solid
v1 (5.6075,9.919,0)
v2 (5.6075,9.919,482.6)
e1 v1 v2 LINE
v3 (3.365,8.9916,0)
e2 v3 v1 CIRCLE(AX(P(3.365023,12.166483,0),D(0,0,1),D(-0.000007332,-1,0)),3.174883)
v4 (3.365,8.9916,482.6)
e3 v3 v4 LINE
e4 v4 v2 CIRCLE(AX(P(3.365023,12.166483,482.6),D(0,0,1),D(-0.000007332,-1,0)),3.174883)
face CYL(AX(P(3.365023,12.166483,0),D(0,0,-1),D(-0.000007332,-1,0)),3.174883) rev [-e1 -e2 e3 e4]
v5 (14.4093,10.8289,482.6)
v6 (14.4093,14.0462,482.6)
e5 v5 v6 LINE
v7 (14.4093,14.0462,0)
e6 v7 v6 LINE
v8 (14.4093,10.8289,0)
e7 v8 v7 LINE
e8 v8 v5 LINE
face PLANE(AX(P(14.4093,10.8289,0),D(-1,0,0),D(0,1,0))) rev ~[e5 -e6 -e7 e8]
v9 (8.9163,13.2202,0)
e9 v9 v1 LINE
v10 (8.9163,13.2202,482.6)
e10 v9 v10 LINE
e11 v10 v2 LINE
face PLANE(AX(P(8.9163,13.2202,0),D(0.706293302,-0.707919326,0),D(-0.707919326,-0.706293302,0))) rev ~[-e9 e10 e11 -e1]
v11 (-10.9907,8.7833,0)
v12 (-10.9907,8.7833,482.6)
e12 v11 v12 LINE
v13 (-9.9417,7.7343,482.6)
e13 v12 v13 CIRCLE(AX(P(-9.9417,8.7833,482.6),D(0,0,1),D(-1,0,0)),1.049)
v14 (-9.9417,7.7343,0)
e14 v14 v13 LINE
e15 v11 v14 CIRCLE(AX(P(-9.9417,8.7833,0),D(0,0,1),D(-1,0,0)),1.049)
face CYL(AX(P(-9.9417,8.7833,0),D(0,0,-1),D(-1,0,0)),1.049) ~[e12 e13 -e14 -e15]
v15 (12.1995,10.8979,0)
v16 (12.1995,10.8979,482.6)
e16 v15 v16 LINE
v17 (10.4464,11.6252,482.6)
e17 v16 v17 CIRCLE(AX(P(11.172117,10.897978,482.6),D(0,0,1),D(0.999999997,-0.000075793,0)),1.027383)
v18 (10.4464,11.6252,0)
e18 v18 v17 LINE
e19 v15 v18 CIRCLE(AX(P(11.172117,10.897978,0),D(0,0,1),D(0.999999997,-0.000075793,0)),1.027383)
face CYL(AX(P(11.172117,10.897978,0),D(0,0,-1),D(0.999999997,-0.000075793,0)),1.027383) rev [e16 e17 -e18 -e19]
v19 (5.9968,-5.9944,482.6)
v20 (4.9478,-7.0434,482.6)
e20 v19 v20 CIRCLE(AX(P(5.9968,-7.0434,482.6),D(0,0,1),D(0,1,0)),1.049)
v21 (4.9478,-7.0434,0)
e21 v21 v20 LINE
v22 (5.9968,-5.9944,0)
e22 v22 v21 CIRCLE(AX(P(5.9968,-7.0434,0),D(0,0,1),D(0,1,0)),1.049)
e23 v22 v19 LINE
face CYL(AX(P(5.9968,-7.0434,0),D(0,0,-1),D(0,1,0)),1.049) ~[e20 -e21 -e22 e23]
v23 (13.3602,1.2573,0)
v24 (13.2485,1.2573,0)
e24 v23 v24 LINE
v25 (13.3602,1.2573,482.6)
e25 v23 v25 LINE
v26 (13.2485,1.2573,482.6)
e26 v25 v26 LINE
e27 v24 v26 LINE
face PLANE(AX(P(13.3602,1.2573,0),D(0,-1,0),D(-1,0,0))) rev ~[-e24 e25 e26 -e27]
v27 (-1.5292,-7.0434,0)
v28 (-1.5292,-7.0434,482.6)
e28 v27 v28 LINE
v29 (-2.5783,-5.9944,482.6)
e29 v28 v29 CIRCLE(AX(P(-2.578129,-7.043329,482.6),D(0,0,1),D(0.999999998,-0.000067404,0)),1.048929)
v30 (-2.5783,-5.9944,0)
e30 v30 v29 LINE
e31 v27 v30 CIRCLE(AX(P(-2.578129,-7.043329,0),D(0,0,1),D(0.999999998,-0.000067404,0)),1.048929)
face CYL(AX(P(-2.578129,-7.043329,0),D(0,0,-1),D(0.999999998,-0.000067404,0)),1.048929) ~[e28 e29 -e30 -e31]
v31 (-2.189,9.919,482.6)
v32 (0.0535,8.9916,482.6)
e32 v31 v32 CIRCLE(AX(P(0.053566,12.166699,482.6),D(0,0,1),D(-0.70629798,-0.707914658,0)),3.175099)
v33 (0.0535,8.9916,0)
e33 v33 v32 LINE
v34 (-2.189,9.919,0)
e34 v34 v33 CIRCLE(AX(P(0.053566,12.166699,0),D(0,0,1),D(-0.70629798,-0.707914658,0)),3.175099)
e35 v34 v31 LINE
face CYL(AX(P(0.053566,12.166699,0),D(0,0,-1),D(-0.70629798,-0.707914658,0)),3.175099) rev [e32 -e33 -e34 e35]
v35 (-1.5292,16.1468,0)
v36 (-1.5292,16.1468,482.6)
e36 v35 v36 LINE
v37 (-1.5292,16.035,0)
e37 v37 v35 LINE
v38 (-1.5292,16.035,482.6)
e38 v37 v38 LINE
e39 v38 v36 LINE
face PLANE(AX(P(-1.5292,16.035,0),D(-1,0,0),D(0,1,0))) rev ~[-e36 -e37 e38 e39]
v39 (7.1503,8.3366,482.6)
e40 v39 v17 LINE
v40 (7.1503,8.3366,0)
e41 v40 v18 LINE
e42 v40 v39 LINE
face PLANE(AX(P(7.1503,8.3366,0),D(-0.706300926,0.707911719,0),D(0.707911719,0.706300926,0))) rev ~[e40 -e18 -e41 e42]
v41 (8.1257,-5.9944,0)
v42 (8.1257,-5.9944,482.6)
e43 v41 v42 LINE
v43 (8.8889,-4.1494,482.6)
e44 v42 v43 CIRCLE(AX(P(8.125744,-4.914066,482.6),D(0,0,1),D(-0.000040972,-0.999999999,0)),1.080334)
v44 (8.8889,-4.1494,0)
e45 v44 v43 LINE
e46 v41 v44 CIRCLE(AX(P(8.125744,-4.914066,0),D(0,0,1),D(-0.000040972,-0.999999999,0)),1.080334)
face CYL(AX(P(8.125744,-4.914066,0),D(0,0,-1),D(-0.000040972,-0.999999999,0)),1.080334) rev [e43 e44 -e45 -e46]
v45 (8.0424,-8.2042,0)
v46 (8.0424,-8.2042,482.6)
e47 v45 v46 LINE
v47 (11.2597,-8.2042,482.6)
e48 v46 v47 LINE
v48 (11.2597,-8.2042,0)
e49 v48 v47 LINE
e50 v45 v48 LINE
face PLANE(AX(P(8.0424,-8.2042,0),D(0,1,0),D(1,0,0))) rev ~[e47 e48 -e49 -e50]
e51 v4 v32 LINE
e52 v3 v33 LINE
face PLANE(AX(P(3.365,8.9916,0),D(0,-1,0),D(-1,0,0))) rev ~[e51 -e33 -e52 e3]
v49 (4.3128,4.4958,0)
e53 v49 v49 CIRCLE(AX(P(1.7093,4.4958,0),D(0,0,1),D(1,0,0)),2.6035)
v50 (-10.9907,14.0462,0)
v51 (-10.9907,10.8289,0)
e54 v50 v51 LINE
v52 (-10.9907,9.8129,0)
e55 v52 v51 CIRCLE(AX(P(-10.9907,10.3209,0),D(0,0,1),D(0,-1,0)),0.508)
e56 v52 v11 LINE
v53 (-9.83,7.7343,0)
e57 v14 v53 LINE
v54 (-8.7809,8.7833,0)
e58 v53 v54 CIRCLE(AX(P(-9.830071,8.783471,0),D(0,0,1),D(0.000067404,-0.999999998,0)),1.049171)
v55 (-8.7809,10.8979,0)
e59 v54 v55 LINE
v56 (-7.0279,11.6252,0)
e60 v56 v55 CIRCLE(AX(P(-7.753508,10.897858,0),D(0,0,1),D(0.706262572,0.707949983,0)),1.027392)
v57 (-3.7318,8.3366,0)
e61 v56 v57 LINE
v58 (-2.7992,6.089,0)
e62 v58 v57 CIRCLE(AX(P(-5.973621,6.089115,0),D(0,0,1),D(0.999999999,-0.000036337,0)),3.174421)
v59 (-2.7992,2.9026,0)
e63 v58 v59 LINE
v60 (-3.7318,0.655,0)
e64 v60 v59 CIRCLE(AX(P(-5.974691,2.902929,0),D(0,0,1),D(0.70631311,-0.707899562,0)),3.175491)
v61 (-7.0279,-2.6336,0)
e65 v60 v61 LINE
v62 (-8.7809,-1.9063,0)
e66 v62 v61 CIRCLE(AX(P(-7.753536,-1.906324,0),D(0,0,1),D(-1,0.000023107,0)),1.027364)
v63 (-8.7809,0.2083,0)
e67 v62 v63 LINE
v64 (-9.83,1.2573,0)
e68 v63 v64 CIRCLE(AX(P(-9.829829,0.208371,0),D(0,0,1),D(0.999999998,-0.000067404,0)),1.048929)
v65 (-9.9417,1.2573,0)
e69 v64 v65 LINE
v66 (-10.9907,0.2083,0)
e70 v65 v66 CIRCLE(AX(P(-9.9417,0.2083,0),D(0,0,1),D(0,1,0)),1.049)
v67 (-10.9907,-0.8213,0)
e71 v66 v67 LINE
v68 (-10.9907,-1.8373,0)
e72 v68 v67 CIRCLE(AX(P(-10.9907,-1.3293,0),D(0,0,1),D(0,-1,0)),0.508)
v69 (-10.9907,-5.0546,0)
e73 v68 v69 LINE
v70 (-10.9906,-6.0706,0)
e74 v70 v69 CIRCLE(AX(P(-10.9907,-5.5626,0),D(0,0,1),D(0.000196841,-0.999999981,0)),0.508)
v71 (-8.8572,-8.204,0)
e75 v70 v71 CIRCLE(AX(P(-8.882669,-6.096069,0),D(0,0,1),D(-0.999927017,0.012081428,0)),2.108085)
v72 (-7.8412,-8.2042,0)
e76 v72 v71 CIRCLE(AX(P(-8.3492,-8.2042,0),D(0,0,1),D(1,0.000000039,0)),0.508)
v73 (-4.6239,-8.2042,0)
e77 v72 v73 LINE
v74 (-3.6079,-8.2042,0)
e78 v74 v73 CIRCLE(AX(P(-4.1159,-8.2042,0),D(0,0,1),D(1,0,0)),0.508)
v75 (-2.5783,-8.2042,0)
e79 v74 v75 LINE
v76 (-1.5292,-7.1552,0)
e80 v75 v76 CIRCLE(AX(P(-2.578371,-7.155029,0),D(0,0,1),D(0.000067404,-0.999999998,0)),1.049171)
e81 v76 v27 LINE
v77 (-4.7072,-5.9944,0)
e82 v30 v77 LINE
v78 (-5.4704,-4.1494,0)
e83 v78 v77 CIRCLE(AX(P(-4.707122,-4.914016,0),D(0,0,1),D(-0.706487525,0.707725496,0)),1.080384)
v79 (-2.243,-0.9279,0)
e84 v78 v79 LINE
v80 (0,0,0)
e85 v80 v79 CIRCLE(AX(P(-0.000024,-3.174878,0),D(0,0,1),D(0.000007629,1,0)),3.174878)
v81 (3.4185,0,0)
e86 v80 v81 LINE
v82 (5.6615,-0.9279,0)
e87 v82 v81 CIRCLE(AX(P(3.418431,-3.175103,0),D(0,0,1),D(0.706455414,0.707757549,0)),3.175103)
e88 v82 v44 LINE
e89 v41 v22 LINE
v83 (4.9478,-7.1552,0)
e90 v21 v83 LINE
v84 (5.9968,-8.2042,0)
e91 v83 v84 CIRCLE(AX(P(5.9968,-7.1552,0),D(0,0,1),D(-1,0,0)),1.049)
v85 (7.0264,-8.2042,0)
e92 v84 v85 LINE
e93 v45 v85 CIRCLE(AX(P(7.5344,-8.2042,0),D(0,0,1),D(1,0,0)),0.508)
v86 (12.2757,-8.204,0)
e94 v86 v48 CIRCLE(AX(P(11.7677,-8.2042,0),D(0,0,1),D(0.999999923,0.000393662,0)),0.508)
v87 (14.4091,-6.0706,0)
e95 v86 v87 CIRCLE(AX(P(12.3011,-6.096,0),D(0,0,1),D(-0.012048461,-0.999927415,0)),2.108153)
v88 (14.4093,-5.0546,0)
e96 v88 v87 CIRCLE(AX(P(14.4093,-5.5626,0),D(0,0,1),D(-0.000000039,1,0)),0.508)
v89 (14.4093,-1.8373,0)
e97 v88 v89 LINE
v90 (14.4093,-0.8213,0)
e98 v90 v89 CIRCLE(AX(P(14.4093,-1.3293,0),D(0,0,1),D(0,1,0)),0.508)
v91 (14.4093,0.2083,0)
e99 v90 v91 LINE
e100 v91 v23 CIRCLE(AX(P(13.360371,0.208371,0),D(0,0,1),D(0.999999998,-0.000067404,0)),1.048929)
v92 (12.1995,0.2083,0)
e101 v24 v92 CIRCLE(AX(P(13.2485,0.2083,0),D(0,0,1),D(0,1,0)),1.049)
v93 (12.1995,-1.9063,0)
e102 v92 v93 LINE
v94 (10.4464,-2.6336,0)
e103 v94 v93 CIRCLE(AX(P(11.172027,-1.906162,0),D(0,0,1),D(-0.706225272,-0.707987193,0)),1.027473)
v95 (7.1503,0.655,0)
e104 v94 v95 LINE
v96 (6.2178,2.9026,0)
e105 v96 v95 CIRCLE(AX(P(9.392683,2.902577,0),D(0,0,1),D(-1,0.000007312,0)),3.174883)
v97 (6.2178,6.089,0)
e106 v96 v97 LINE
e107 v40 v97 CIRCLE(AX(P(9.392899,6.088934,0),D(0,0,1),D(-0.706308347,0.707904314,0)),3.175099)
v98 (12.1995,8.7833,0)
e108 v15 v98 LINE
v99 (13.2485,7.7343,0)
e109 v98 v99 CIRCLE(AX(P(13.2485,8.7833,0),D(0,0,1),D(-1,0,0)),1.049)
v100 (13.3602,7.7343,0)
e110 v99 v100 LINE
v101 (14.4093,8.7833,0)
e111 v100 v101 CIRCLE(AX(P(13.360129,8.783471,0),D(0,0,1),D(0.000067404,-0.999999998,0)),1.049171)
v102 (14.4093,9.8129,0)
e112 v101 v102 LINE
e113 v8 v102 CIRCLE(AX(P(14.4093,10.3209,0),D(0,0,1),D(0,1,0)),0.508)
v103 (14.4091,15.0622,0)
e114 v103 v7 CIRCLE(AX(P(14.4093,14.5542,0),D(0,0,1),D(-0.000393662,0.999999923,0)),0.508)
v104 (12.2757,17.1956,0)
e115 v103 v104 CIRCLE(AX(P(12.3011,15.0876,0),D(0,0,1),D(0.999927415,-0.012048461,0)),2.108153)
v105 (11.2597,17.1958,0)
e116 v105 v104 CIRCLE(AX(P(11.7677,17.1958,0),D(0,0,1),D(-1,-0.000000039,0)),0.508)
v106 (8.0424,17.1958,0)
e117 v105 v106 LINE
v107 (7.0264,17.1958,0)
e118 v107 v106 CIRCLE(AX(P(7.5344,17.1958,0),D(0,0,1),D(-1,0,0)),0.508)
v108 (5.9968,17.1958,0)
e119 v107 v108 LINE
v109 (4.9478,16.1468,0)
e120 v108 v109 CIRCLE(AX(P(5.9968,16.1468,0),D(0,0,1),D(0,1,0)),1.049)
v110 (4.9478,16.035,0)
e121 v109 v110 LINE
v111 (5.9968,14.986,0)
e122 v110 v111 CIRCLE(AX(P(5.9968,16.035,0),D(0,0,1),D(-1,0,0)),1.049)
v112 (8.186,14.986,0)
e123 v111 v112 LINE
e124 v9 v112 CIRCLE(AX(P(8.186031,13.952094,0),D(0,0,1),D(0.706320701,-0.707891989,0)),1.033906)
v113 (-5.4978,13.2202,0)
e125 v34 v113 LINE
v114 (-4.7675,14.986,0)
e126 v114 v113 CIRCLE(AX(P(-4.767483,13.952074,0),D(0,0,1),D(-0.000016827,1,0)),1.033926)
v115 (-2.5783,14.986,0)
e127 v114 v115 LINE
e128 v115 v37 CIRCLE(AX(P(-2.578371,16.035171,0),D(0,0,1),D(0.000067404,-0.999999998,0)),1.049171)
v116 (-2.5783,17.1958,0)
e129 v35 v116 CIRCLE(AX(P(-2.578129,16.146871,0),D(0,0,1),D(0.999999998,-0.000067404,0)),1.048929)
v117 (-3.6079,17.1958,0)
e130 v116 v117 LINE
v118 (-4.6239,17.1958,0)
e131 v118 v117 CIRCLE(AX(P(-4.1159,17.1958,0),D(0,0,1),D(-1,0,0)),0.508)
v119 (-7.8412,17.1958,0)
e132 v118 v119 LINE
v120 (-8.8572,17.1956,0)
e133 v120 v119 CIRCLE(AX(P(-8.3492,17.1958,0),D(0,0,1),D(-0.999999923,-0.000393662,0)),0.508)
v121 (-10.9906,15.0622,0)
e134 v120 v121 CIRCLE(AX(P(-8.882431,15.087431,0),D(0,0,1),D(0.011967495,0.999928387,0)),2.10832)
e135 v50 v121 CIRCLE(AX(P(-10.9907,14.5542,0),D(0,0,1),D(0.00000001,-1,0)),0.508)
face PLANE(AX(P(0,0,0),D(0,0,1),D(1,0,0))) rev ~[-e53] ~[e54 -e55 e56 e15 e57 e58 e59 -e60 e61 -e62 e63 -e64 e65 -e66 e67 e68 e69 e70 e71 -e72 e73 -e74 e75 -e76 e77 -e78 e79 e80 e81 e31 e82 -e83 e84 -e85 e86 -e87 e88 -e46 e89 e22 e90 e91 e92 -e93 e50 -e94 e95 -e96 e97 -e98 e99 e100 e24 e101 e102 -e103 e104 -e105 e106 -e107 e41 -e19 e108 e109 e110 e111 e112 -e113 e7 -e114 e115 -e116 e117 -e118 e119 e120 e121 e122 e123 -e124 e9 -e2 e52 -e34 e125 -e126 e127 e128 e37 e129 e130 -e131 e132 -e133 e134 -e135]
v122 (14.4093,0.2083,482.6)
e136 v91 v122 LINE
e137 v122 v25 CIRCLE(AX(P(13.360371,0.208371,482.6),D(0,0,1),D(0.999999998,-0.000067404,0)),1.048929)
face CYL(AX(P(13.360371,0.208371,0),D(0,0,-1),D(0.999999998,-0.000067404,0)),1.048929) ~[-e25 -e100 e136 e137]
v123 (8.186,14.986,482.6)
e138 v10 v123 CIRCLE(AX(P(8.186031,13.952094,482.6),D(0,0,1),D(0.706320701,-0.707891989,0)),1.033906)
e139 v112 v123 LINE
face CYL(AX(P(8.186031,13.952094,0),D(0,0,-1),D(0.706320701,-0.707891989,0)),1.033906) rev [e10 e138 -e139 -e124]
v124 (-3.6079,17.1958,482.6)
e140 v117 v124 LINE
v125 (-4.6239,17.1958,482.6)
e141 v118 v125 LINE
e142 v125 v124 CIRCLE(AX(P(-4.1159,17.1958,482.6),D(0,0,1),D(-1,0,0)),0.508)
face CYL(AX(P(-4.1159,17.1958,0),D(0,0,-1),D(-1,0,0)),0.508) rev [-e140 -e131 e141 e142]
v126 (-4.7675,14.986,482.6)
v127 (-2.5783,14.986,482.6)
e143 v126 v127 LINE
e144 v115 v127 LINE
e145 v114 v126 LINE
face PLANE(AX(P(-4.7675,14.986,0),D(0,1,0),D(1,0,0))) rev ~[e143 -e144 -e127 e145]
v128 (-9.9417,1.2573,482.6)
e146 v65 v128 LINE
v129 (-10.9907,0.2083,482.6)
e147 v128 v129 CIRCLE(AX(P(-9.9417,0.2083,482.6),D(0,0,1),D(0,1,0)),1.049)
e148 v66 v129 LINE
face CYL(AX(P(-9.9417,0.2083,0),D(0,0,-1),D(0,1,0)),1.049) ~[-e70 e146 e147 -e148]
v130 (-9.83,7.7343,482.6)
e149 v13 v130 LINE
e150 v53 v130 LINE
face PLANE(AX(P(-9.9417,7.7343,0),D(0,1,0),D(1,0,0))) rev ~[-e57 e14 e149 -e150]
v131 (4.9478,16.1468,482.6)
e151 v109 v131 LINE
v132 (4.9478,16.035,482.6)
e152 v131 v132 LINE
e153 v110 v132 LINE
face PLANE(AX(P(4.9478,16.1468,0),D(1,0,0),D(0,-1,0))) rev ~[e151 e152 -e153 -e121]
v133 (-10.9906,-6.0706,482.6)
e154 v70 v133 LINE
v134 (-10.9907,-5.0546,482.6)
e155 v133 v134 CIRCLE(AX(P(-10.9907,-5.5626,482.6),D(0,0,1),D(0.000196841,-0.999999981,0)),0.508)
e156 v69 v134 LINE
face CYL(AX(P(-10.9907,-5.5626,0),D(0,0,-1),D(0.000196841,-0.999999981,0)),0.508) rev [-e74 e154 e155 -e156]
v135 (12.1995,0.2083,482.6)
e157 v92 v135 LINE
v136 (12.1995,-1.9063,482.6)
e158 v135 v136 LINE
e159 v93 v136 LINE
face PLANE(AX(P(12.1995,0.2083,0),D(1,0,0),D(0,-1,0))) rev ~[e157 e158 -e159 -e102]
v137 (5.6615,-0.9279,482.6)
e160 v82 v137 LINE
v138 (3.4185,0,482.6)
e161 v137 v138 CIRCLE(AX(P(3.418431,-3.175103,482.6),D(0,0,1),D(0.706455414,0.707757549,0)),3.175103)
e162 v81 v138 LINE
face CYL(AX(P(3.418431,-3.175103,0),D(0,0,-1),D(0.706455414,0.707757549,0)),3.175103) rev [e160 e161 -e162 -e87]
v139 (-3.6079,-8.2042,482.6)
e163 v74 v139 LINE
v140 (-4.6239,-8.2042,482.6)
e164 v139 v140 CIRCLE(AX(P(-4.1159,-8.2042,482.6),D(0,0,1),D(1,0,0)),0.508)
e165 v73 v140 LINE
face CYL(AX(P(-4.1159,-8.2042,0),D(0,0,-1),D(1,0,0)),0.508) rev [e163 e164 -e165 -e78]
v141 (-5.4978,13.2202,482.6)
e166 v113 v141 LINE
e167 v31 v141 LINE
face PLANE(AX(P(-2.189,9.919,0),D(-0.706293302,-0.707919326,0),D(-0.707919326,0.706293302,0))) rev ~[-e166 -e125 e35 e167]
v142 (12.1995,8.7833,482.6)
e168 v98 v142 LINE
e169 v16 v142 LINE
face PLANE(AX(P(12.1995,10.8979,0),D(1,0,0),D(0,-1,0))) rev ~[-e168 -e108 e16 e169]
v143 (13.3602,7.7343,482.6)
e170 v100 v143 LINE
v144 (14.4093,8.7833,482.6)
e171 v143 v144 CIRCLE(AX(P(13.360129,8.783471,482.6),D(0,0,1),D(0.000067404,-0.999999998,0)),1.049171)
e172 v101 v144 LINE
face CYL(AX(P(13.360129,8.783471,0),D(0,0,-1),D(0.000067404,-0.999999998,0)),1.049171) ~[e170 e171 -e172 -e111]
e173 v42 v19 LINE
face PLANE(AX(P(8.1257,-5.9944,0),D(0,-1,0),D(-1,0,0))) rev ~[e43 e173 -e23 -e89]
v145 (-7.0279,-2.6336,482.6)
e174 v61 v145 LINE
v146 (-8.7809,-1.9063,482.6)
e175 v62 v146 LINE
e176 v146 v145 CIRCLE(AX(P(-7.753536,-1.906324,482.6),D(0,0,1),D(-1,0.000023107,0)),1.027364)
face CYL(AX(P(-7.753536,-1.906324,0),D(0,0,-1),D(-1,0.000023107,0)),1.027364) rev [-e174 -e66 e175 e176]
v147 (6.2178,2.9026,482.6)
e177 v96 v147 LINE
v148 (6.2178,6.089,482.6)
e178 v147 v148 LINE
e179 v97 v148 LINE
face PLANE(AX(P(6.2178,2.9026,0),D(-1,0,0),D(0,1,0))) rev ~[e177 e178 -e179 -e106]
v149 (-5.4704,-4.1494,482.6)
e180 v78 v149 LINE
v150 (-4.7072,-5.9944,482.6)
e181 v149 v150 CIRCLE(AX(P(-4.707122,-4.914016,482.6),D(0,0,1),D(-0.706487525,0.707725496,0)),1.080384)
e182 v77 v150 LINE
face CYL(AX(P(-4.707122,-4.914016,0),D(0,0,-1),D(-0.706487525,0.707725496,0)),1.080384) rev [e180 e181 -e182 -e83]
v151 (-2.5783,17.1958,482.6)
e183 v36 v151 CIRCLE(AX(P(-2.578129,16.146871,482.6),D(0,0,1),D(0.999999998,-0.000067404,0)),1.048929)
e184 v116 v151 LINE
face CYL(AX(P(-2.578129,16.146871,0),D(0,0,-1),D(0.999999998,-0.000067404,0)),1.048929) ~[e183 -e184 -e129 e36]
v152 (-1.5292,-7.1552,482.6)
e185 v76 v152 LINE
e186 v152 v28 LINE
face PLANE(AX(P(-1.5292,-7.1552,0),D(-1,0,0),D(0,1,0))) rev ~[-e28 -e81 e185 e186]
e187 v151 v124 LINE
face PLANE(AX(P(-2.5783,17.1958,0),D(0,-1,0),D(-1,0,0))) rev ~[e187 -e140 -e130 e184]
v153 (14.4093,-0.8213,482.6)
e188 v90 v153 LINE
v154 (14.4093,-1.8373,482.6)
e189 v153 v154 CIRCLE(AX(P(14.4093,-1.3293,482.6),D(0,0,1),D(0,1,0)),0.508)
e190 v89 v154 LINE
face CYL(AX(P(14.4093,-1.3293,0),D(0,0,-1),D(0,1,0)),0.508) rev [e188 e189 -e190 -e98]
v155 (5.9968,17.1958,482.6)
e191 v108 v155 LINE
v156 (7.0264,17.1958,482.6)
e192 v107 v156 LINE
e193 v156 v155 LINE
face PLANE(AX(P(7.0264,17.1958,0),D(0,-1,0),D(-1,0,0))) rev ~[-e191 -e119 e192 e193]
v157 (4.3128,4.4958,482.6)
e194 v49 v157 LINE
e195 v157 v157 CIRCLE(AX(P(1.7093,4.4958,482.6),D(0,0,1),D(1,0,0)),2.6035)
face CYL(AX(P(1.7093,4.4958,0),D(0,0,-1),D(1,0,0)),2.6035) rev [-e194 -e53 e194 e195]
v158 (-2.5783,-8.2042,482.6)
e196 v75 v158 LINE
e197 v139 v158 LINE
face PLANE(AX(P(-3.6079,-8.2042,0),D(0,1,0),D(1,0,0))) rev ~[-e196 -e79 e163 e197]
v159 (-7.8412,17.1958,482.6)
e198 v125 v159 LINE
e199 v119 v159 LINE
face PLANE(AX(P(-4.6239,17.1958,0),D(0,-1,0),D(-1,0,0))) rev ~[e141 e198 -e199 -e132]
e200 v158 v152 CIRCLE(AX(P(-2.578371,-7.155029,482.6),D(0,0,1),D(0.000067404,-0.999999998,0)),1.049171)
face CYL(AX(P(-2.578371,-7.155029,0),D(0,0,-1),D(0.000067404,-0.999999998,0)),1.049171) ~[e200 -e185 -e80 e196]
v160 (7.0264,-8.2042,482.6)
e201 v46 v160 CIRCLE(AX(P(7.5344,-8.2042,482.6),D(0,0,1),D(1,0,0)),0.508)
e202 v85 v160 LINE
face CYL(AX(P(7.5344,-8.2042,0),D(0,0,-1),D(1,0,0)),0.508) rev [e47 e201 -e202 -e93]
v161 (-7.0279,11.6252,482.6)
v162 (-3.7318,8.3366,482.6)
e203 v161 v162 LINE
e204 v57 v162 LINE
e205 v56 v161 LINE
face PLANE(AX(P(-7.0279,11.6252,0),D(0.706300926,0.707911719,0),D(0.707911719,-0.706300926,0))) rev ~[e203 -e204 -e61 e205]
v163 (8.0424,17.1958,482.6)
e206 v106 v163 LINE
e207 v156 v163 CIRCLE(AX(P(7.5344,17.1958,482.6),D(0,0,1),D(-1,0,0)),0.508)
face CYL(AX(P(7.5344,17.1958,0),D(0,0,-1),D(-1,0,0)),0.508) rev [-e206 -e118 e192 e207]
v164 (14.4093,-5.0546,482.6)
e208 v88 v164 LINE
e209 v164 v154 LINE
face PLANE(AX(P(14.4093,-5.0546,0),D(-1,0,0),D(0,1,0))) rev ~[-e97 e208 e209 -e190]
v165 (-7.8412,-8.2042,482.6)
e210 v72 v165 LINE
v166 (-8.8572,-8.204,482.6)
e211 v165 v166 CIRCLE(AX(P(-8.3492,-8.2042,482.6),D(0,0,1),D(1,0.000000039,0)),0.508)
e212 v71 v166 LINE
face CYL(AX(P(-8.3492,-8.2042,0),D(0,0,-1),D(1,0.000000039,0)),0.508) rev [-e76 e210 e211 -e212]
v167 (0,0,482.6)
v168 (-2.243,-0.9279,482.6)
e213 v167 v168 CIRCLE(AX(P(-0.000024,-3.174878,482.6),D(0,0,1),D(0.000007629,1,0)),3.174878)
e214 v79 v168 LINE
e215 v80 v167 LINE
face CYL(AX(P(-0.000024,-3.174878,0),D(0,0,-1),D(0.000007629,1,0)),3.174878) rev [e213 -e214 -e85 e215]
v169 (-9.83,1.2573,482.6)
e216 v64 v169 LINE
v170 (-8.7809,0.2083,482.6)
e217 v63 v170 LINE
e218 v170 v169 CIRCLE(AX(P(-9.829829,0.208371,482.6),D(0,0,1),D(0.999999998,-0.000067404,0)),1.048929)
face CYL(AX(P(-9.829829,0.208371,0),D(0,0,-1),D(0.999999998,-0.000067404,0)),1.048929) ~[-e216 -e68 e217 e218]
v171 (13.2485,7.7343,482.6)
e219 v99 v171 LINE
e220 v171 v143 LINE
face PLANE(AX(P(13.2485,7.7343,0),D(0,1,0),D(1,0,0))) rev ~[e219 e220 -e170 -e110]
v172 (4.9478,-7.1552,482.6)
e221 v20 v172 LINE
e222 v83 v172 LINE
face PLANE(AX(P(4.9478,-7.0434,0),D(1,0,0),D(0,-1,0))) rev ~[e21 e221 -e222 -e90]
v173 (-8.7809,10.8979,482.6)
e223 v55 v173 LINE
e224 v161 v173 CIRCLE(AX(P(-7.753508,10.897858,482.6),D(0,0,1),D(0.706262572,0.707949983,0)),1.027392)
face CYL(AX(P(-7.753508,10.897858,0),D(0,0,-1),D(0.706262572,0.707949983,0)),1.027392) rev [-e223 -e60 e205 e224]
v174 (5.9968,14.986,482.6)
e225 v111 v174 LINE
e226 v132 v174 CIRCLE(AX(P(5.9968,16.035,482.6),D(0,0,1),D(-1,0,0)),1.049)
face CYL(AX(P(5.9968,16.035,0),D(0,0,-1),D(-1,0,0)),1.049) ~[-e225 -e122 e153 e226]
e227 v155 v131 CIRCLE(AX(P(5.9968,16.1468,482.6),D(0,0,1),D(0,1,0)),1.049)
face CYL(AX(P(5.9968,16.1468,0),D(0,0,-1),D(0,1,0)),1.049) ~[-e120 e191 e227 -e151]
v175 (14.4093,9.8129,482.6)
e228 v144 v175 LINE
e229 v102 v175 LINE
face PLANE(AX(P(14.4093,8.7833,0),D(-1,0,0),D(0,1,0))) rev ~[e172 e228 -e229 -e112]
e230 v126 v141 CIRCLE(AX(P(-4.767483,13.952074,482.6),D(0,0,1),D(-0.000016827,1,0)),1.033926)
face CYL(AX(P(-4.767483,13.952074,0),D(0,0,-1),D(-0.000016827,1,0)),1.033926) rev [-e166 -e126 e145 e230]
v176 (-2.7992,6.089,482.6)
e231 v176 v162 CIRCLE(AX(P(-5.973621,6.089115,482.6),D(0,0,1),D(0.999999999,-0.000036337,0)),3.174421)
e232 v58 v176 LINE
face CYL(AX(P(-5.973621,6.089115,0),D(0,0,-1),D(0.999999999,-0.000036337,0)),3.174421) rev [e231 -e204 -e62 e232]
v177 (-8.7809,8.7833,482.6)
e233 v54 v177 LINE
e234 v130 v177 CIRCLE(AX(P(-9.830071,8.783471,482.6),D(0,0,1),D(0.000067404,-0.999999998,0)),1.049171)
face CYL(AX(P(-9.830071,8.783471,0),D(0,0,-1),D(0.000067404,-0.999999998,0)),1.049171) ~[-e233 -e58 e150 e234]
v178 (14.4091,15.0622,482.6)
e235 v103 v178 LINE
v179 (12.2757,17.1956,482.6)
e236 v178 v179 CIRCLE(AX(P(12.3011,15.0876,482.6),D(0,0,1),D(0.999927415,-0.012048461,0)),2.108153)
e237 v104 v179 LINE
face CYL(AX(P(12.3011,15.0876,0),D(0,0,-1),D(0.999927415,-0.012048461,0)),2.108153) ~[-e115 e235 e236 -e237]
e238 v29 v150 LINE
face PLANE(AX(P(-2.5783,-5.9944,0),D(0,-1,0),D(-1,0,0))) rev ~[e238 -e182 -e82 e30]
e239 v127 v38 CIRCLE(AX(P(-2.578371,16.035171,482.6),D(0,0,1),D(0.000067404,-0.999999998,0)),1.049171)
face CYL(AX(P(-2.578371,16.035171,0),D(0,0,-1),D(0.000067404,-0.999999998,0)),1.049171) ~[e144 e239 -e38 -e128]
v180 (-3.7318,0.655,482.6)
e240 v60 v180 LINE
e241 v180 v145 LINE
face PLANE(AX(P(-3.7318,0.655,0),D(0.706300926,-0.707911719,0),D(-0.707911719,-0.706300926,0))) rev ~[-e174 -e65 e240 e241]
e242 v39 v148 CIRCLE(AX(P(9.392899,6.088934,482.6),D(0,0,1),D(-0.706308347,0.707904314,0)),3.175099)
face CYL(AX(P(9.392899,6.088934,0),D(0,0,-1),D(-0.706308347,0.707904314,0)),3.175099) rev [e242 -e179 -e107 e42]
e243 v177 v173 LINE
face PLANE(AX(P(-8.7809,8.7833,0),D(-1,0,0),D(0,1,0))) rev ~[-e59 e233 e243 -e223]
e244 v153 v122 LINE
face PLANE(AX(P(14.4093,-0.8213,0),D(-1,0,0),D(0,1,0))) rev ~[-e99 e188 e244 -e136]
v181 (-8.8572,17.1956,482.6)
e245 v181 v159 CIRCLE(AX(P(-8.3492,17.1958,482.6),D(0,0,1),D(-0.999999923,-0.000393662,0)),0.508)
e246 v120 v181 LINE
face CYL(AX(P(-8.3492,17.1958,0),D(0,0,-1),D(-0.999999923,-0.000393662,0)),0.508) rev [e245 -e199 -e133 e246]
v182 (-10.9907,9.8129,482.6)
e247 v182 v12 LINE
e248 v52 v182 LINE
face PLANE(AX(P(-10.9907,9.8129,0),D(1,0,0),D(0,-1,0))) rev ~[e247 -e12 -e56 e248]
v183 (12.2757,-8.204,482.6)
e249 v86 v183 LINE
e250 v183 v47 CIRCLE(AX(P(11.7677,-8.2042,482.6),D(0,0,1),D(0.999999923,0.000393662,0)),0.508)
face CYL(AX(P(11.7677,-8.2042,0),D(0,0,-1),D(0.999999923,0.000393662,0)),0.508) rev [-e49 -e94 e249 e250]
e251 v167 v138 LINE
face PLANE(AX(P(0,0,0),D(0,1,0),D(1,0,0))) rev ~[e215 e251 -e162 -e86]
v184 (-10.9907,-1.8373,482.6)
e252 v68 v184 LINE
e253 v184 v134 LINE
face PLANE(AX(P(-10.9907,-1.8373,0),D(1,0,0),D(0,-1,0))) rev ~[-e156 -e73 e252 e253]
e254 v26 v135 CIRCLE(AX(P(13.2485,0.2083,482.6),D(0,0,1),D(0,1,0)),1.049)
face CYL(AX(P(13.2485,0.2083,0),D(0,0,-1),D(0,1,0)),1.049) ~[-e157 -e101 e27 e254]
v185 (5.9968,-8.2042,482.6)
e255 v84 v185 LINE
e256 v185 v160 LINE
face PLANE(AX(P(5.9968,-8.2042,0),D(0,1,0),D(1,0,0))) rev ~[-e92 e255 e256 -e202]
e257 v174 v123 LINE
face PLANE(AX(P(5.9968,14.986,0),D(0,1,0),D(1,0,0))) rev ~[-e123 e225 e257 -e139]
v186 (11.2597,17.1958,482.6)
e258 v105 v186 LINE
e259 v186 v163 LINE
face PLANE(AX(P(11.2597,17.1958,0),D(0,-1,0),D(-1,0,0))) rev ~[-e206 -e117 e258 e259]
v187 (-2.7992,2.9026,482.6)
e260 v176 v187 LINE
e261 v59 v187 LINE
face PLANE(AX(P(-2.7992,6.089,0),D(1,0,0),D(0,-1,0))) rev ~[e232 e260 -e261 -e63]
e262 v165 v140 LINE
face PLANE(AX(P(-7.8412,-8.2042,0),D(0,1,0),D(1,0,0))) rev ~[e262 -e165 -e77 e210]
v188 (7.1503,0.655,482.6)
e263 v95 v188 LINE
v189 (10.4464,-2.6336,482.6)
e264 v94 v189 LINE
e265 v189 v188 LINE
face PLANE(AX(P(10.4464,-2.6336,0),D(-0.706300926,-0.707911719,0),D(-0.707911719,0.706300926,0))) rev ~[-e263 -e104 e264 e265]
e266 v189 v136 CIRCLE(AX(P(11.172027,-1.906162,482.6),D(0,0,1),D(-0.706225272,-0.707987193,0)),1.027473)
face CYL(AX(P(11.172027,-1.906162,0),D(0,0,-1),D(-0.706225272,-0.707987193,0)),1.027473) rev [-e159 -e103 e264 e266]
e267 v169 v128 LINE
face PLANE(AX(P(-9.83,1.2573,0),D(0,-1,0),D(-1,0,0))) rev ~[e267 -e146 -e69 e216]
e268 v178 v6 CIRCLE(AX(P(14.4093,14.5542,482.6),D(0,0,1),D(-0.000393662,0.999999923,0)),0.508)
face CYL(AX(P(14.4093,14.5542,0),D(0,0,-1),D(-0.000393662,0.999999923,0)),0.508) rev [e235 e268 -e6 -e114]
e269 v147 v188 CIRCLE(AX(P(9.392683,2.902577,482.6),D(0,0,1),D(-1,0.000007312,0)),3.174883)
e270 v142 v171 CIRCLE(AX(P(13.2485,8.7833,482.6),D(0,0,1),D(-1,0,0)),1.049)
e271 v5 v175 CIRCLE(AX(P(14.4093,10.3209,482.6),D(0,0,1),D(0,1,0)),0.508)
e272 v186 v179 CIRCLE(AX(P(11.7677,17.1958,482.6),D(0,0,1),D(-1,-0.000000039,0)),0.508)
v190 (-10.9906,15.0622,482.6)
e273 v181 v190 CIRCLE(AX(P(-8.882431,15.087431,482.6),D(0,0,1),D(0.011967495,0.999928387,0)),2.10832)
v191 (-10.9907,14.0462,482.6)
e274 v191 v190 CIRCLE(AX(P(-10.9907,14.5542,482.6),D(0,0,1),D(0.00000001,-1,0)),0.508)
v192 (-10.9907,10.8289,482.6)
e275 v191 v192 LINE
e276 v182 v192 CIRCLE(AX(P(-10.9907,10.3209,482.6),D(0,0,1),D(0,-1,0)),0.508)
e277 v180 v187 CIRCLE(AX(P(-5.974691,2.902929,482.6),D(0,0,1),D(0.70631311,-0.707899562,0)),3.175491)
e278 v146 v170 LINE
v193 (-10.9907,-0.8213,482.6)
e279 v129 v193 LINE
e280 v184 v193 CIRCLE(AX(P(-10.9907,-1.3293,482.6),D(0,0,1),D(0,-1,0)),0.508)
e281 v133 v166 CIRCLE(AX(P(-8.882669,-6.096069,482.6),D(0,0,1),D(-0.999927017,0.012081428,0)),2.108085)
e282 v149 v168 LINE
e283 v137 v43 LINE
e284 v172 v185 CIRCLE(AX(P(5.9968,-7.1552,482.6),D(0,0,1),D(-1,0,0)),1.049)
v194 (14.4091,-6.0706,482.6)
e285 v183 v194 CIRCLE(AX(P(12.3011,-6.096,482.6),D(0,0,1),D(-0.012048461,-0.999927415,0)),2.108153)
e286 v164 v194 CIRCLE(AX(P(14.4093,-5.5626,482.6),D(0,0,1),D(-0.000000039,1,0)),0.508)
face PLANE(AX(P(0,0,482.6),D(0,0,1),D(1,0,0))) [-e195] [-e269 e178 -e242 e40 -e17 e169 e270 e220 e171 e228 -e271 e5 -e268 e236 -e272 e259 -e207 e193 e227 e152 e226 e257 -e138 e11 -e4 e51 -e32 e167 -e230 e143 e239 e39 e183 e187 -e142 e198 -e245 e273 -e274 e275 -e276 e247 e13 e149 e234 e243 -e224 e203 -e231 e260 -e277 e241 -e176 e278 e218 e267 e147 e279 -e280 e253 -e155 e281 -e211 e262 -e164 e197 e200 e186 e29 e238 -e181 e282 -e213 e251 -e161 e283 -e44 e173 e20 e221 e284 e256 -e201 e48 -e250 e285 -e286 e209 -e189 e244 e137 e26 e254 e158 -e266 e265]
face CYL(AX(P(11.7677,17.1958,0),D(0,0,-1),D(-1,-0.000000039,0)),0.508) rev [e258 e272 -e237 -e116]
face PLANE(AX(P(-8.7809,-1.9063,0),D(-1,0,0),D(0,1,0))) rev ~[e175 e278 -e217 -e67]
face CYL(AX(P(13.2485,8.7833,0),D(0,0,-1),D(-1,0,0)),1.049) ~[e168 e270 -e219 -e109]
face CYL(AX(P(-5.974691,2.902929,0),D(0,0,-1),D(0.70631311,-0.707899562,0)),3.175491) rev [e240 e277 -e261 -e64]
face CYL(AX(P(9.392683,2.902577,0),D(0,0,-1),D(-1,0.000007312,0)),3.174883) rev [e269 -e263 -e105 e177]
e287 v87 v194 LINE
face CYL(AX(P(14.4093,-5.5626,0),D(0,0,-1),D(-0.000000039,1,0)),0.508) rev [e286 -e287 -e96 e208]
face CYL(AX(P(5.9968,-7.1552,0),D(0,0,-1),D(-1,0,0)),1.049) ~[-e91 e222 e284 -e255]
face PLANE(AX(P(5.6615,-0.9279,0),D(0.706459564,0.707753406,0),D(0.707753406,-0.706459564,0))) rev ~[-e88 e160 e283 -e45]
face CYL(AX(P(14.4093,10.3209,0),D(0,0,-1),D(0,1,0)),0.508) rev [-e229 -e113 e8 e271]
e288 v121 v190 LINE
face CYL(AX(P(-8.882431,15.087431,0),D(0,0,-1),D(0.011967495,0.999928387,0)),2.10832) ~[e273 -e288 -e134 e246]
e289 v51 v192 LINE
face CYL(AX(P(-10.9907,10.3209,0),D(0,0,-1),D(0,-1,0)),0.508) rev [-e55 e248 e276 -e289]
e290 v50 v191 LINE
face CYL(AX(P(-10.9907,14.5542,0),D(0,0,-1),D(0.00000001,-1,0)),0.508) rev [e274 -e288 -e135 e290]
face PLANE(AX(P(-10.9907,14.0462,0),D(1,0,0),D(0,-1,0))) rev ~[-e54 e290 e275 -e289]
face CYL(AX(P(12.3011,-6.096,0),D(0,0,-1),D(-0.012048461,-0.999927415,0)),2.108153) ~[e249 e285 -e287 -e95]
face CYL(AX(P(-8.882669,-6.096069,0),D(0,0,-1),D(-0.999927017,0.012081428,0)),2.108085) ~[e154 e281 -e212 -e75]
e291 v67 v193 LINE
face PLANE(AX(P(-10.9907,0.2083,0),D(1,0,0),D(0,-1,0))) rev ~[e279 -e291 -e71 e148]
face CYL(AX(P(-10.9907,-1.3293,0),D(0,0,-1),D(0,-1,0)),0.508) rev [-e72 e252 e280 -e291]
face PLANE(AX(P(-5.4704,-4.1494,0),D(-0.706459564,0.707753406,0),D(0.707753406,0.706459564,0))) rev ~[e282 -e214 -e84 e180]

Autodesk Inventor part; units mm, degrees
ref_plane "YZ Plane" through (0, 0, 0) normal (1, 0, 0) x (0, 1, 0)
ref_plane "XZ Plane" through (0, 0, 0) normal (0, 1, 0) x (-1, 0, 0)
ref_plane "XY Plane" through (0, 0, 0) normal (0, 0, 1) x (1, 0, 0)
sketch "Sketch1" plane through (0, 0, 0) normal (0, 0, 1) x (1, 0, 0)
  arc A0 (-5.4704, -4.1494) -> (-4.7072, -5.9944) centre (-4.7072, -4.914) ccw
  line L0 (-5.4704, -4.1494) -> (-2.243, -0.9279)
  arc A1 (0, 0) -> (-2.243, -0.9279) centre (0, -3.175) ccw
  line L1 (0, 0) -> (3.4185, 0)
  arc A2 (5.6615, -0.9279) -> (3.4185, 0) centre (3.4185, -3.175) ccw
  line L2 (5.6615, -0.9279) -> (8.8889, -4.1494)
  arc A3 (8.1257, -5.9944) -> (8.8889, -4.1494) centre (8.1257, -4.914) ccw
  line L3 (8.1257, -5.9944) -> (5.9968, -5.9944)
  arc A4 (5.9968, -5.9944) -> (4.9478, -7.0434) centre (5.9968, -7.0434) ccw
  line L4 (4.9478, -7.0434) -> (4.9478, -7.1552)
  arc A5 (4.9478, -7.1552) -> (5.9968, -8.2042) centre (5.9968, -7.1552) ccw
  line L5 (5.9968, -8.2042) -> (7.0264, -8.2042)
  arc A6 (8.0424, -8.2042) -> (7.0264, -8.2042) centre (7.5344, -8.2042) ccw
  line L6 (8.0424, -8.2042) -> (11.2597, -8.2042)
  arc A7 (12.2757, -8.204) -> (11.2597, -8.2042) centre (11.7677, -8.2042) ccw
  arc A8 (12.2757, -8.204) -> (14.4091, -6.0706) centre (12.3011, -6.096) ccw
  arc A9 (14.4093, -5.0546) -> (14.4091, -6.0706) centre (14.4093, -5.5626) ccw
  line L7 (14.4093, -5.0546) -> (14.4093, -1.8373)
  arc A10 (14.4093, -0.8213) -> (14.4093, -1.8373) centre (14.4093, -1.3293) ccw
  line L8 (14.4093, -0.8213) -> (14.4093, 0.2083)
  arc A11 (14.4093, 0.2083) -> (13.3602, 1.2573) centre (13.3602, 0.2083) ccw
  line L9 (13.3602, 1.2573) -> (13.2485, 1.2573)
  arc A12 (13.2485, 1.2573) -> (12.1995, 0.2083) centre (13.2485, 0.2083) ccw
  line L10 (12.1995, 0.2083) -> (12.1995, -1.9063)
  arc A13 (10.4464, -2.6336) -> (12.1995, -1.9063) centre (11.172, -1.9063) ccw
  line L11 (10.4464, -2.6336) -> (7.1503, 0.655)
  arc A14 (6.2178, 2.9026) -> (7.1503, 0.655) centre (9.3928, 2.9026) ccw
  line L12 (6.2178, 2.9026) -> (6.2178, 6.089)
  arc A15 (7.1503, 8.3366) -> (6.2178, 6.089) centre (9.3928, 6.089) ccw
  line L13 (7.1503, 8.3366) -> (10.4464, 11.6252)
  arc A16 (12.1995, 10.8979) -> (10.4464, 11.6252) centre (11.172, 10.8979) ccw
  line L14 (12.1995, 10.8979) -> (12.1995, 8.7833)
  arc A17 (12.1995, 8.7833) -> (13.2485, 7.7343) centre (13.2485, 8.7833) ccw
  line L15 (13.2485, 7.7343) -> (13.3602, 7.7343)
  arc A18 (13.3602, 7.7343) -> (14.4093, 8.7833) centre (13.3602, 8.7833) ccw
  line L16 (14.4093, 8.7833) -> (14.4093, 9.8129)
  arc A19 (14.4093, 10.8289) -> (14.4093, 9.8129) centre (14.4093, 10.3209) ccw
  line L17 (14.4093, 10.8289) -> (14.4093, 14.0462)
  arc A20 (14.4091, 15.0622) -> (14.4093, 14.0462) centre (14.4093, 14.5542) ccw
  arc A21 (14.4091, 15.0622) -> (12.2757, 17.1956) centre (12.3011, 15.0876) ccw
  arc A22 (11.2597, 17.1958) -> (12.2757, 17.1956) centre (11.7677, 17.1958) ccw
  line L18 (11.2597, 17.1958) -> (8.0424, 17.1958)
  arc A23 (7.0264, 17.1958) -> (8.0424, 17.1958) centre (7.5344, 17.1958) ccw
  line L19 (7.0264, 17.1958) -> (5.9968, 17.1958)
  arc A24 (5.9968, 17.1958) -> (4.9478, 16.1468) centre (5.9968, 16.1468) ccw
  line L20 (4.9478, 16.1468) -> (4.9478, 16.035)
  arc A25 (4.9478, 16.035) -> (5.9968, 14.986) centre (5.9968, 16.035) ccw
  line L21 (5.9968, 14.986) -> (8.186, 14.986)
  arc A26 (8.9163, 13.2202) -> (8.186, 14.986) centre (8.186, 13.9521) ccw
  line L22 (8.9163, 13.2202) -> (5.6075, 9.919)
  arc A27 (3.365, 8.9916) -> (5.6075, 9.919) centre (3.365, 12.1666) ccw
  line L23 (3.365, 8.9916) -> (0.0535, 8.9916)
  arc A28 (-2.189, 9.919) -> (0.0535, 8.9916) centre (0.0535, 12.1666) ccw
  line L24 (-2.189, 9.919) -> (-5.4978, 13.2202)
  arc A29 (-4.7675, 14.986) -> (-5.4978, 13.2202) centre (-4.7675, 13.9521) ccw
  line L25 (-4.7675, 14.986) -> (-2.5783, 14.986)
  arc A30 (-2.5783, 14.986) -> (-1.5292, 16.035) centre (-2.5783, 16.035) ccw
  line L26 (-1.5292, 16.035) -> (-1.5292, 16.1468)
  arc A31 (-1.5292, 16.1468) -> (-2.5783, 17.1958) centre (-2.5783, 16.1468) ccw
  line L27 (-2.5783, 17.1958) -> (-3.6079, 17.1958)
  arc A32 (-4.6239, 17.1958) -> (-3.6079, 17.1958) centre (-4.1159, 17.1958) ccw
  line L28 (-4.6239, 17.1958) -> (-7.8412, 17.1958)
  arc A33 (-8.8572, 17.1956) -> (-7.8412, 17.1958) centre (-8.3492, 17.1958) ccw
  arc A34 (-8.8572, 17.1956) -> (-10.9906, 15.0622) centre (-8.8825, 15.0876) ccw
  arc A35 (-10.9907, 14.0462) -> (-10.9906, 15.0622) centre (-10.9907, 14.5542) ccw
  line L29 (-10.9907, 14.0462) -> (-10.9907, 10.8289)
  arc A36 (-10.9907, 9.8129) -> (-10.9907, 10.8289) centre (-10.9907, 10.3209) ccw
  line L30 (-10.9907, 9.8129) -> (-10.9907, 8.7833)
  arc A37 (-10.9907, 8.7833) -> (-9.9417, 7.7343) centre (-9.9417, 8.7833) ccw
  line L31 (-9.9417, 7.7343) -> (-9.83, 7.7343)
  arc A38 (-9.83, 7.7343) -> (-8.7809, 8.7833) centre (-9.83, 8.7833) ccw
  line L32 (-8.7809, 8.7833) -> (-8.7809, 10.8979)
  arc A39 (-7.0279, 11.6252) -> (-8.7809, 10.8979) centre (-7.7535, 10.8979) ccw
  line L33 (-7.0279, 11.6252) -> (-3.7318, 8.3366)
  arc A40 (-2.7992, 6.089) -> (-3.7318, 8.3366) centre (-5.9742, 6.089) ccw
  line L34 (-2.7992, 6.089) -> (-2.7992, 2.9026)
  arc A41 (-3.7318, 0.655) -> (-2.7992, 2.9026) centre (-5.9742, 2.9026) ccw
  line L35 (-3.7318, 0.655) -> (-7.0279, -2.6336)
  arc A42 (-8.7809, -1.9063) -> (-7.0279, -2.6336) centre (-7.7535, -1.9063) ccw
  line L36 (-8.7809, -1.9063) -> (-8.7809, 0.2083)
  arc A43 (-8.7809, 0.2083) -> (-9.83, 1.2573) centre (-9.83, 0.2083) ccw
  line L37 (-9.83, 1.2573) -> (-9.9417, 1.2573)
  arc A44 (-9.9417, 1.2573) -> (-10.9907, 0.2083) centre (-9.9417, 0.2083) ccw
  line L38 (-10.9907, 0.2083) -> (-10.9907, -0.8213)
  arc A45 (-10.9907, -1.8373) -> (-10.9907, -0.8213) centre (-10.9907, -1.3293) ccw
  line L39 (-10.9907, -1.8373) -> (-10.9907, -5.0546)
  arc A46 (-10.9906, -6.0706) -> (-10.9907, -5.0546) centre (-10.9907, -5.5626) ccw
  arc A47 (-10.9906, -6.0706) -> (-8.8572, -8.204) centre (-8.8825, -6.096) ccw
  arc A48 (-7.8412, -8.2042) -> (-8.8572, -8.204) centre (-8.3492, -8.2042) ccw
  line L40 (-7.8412, -8.2042) -> (-4.6239, -8.2042)
  arc A49 (-3.6079, -8.2042) -> (-4.6239, -8.2042) centre (-4.1159, -8.2042) ccw
  line L41 (-3.6079, -8.2042) -> (-2.5783, -8.2042)
  arc A50 (-2.5783, -8.2042) -> (-1.5292, -7.1552) centre (-2.5783, -7.1552) ccw
  line L42 (-1.5292, -7.1552) -> (-1.5292, -7.0434)
  arc A51 (-1.5292, -7.0434) -> (-2.5783, -5.9944) centre (-2.5783, -7.0434) ccw
  line L43 (-2.5783, -5.9944) -> (-4.7072, -5.9944)
  circle A52 centre (1.7093, 4.4958) radius 2.6035
extrude "Extrusion1" add sketch "Sketch1" along normal blind 482.6
properties part number "19in 1x1 T slot" material "Steel, Alloy"
